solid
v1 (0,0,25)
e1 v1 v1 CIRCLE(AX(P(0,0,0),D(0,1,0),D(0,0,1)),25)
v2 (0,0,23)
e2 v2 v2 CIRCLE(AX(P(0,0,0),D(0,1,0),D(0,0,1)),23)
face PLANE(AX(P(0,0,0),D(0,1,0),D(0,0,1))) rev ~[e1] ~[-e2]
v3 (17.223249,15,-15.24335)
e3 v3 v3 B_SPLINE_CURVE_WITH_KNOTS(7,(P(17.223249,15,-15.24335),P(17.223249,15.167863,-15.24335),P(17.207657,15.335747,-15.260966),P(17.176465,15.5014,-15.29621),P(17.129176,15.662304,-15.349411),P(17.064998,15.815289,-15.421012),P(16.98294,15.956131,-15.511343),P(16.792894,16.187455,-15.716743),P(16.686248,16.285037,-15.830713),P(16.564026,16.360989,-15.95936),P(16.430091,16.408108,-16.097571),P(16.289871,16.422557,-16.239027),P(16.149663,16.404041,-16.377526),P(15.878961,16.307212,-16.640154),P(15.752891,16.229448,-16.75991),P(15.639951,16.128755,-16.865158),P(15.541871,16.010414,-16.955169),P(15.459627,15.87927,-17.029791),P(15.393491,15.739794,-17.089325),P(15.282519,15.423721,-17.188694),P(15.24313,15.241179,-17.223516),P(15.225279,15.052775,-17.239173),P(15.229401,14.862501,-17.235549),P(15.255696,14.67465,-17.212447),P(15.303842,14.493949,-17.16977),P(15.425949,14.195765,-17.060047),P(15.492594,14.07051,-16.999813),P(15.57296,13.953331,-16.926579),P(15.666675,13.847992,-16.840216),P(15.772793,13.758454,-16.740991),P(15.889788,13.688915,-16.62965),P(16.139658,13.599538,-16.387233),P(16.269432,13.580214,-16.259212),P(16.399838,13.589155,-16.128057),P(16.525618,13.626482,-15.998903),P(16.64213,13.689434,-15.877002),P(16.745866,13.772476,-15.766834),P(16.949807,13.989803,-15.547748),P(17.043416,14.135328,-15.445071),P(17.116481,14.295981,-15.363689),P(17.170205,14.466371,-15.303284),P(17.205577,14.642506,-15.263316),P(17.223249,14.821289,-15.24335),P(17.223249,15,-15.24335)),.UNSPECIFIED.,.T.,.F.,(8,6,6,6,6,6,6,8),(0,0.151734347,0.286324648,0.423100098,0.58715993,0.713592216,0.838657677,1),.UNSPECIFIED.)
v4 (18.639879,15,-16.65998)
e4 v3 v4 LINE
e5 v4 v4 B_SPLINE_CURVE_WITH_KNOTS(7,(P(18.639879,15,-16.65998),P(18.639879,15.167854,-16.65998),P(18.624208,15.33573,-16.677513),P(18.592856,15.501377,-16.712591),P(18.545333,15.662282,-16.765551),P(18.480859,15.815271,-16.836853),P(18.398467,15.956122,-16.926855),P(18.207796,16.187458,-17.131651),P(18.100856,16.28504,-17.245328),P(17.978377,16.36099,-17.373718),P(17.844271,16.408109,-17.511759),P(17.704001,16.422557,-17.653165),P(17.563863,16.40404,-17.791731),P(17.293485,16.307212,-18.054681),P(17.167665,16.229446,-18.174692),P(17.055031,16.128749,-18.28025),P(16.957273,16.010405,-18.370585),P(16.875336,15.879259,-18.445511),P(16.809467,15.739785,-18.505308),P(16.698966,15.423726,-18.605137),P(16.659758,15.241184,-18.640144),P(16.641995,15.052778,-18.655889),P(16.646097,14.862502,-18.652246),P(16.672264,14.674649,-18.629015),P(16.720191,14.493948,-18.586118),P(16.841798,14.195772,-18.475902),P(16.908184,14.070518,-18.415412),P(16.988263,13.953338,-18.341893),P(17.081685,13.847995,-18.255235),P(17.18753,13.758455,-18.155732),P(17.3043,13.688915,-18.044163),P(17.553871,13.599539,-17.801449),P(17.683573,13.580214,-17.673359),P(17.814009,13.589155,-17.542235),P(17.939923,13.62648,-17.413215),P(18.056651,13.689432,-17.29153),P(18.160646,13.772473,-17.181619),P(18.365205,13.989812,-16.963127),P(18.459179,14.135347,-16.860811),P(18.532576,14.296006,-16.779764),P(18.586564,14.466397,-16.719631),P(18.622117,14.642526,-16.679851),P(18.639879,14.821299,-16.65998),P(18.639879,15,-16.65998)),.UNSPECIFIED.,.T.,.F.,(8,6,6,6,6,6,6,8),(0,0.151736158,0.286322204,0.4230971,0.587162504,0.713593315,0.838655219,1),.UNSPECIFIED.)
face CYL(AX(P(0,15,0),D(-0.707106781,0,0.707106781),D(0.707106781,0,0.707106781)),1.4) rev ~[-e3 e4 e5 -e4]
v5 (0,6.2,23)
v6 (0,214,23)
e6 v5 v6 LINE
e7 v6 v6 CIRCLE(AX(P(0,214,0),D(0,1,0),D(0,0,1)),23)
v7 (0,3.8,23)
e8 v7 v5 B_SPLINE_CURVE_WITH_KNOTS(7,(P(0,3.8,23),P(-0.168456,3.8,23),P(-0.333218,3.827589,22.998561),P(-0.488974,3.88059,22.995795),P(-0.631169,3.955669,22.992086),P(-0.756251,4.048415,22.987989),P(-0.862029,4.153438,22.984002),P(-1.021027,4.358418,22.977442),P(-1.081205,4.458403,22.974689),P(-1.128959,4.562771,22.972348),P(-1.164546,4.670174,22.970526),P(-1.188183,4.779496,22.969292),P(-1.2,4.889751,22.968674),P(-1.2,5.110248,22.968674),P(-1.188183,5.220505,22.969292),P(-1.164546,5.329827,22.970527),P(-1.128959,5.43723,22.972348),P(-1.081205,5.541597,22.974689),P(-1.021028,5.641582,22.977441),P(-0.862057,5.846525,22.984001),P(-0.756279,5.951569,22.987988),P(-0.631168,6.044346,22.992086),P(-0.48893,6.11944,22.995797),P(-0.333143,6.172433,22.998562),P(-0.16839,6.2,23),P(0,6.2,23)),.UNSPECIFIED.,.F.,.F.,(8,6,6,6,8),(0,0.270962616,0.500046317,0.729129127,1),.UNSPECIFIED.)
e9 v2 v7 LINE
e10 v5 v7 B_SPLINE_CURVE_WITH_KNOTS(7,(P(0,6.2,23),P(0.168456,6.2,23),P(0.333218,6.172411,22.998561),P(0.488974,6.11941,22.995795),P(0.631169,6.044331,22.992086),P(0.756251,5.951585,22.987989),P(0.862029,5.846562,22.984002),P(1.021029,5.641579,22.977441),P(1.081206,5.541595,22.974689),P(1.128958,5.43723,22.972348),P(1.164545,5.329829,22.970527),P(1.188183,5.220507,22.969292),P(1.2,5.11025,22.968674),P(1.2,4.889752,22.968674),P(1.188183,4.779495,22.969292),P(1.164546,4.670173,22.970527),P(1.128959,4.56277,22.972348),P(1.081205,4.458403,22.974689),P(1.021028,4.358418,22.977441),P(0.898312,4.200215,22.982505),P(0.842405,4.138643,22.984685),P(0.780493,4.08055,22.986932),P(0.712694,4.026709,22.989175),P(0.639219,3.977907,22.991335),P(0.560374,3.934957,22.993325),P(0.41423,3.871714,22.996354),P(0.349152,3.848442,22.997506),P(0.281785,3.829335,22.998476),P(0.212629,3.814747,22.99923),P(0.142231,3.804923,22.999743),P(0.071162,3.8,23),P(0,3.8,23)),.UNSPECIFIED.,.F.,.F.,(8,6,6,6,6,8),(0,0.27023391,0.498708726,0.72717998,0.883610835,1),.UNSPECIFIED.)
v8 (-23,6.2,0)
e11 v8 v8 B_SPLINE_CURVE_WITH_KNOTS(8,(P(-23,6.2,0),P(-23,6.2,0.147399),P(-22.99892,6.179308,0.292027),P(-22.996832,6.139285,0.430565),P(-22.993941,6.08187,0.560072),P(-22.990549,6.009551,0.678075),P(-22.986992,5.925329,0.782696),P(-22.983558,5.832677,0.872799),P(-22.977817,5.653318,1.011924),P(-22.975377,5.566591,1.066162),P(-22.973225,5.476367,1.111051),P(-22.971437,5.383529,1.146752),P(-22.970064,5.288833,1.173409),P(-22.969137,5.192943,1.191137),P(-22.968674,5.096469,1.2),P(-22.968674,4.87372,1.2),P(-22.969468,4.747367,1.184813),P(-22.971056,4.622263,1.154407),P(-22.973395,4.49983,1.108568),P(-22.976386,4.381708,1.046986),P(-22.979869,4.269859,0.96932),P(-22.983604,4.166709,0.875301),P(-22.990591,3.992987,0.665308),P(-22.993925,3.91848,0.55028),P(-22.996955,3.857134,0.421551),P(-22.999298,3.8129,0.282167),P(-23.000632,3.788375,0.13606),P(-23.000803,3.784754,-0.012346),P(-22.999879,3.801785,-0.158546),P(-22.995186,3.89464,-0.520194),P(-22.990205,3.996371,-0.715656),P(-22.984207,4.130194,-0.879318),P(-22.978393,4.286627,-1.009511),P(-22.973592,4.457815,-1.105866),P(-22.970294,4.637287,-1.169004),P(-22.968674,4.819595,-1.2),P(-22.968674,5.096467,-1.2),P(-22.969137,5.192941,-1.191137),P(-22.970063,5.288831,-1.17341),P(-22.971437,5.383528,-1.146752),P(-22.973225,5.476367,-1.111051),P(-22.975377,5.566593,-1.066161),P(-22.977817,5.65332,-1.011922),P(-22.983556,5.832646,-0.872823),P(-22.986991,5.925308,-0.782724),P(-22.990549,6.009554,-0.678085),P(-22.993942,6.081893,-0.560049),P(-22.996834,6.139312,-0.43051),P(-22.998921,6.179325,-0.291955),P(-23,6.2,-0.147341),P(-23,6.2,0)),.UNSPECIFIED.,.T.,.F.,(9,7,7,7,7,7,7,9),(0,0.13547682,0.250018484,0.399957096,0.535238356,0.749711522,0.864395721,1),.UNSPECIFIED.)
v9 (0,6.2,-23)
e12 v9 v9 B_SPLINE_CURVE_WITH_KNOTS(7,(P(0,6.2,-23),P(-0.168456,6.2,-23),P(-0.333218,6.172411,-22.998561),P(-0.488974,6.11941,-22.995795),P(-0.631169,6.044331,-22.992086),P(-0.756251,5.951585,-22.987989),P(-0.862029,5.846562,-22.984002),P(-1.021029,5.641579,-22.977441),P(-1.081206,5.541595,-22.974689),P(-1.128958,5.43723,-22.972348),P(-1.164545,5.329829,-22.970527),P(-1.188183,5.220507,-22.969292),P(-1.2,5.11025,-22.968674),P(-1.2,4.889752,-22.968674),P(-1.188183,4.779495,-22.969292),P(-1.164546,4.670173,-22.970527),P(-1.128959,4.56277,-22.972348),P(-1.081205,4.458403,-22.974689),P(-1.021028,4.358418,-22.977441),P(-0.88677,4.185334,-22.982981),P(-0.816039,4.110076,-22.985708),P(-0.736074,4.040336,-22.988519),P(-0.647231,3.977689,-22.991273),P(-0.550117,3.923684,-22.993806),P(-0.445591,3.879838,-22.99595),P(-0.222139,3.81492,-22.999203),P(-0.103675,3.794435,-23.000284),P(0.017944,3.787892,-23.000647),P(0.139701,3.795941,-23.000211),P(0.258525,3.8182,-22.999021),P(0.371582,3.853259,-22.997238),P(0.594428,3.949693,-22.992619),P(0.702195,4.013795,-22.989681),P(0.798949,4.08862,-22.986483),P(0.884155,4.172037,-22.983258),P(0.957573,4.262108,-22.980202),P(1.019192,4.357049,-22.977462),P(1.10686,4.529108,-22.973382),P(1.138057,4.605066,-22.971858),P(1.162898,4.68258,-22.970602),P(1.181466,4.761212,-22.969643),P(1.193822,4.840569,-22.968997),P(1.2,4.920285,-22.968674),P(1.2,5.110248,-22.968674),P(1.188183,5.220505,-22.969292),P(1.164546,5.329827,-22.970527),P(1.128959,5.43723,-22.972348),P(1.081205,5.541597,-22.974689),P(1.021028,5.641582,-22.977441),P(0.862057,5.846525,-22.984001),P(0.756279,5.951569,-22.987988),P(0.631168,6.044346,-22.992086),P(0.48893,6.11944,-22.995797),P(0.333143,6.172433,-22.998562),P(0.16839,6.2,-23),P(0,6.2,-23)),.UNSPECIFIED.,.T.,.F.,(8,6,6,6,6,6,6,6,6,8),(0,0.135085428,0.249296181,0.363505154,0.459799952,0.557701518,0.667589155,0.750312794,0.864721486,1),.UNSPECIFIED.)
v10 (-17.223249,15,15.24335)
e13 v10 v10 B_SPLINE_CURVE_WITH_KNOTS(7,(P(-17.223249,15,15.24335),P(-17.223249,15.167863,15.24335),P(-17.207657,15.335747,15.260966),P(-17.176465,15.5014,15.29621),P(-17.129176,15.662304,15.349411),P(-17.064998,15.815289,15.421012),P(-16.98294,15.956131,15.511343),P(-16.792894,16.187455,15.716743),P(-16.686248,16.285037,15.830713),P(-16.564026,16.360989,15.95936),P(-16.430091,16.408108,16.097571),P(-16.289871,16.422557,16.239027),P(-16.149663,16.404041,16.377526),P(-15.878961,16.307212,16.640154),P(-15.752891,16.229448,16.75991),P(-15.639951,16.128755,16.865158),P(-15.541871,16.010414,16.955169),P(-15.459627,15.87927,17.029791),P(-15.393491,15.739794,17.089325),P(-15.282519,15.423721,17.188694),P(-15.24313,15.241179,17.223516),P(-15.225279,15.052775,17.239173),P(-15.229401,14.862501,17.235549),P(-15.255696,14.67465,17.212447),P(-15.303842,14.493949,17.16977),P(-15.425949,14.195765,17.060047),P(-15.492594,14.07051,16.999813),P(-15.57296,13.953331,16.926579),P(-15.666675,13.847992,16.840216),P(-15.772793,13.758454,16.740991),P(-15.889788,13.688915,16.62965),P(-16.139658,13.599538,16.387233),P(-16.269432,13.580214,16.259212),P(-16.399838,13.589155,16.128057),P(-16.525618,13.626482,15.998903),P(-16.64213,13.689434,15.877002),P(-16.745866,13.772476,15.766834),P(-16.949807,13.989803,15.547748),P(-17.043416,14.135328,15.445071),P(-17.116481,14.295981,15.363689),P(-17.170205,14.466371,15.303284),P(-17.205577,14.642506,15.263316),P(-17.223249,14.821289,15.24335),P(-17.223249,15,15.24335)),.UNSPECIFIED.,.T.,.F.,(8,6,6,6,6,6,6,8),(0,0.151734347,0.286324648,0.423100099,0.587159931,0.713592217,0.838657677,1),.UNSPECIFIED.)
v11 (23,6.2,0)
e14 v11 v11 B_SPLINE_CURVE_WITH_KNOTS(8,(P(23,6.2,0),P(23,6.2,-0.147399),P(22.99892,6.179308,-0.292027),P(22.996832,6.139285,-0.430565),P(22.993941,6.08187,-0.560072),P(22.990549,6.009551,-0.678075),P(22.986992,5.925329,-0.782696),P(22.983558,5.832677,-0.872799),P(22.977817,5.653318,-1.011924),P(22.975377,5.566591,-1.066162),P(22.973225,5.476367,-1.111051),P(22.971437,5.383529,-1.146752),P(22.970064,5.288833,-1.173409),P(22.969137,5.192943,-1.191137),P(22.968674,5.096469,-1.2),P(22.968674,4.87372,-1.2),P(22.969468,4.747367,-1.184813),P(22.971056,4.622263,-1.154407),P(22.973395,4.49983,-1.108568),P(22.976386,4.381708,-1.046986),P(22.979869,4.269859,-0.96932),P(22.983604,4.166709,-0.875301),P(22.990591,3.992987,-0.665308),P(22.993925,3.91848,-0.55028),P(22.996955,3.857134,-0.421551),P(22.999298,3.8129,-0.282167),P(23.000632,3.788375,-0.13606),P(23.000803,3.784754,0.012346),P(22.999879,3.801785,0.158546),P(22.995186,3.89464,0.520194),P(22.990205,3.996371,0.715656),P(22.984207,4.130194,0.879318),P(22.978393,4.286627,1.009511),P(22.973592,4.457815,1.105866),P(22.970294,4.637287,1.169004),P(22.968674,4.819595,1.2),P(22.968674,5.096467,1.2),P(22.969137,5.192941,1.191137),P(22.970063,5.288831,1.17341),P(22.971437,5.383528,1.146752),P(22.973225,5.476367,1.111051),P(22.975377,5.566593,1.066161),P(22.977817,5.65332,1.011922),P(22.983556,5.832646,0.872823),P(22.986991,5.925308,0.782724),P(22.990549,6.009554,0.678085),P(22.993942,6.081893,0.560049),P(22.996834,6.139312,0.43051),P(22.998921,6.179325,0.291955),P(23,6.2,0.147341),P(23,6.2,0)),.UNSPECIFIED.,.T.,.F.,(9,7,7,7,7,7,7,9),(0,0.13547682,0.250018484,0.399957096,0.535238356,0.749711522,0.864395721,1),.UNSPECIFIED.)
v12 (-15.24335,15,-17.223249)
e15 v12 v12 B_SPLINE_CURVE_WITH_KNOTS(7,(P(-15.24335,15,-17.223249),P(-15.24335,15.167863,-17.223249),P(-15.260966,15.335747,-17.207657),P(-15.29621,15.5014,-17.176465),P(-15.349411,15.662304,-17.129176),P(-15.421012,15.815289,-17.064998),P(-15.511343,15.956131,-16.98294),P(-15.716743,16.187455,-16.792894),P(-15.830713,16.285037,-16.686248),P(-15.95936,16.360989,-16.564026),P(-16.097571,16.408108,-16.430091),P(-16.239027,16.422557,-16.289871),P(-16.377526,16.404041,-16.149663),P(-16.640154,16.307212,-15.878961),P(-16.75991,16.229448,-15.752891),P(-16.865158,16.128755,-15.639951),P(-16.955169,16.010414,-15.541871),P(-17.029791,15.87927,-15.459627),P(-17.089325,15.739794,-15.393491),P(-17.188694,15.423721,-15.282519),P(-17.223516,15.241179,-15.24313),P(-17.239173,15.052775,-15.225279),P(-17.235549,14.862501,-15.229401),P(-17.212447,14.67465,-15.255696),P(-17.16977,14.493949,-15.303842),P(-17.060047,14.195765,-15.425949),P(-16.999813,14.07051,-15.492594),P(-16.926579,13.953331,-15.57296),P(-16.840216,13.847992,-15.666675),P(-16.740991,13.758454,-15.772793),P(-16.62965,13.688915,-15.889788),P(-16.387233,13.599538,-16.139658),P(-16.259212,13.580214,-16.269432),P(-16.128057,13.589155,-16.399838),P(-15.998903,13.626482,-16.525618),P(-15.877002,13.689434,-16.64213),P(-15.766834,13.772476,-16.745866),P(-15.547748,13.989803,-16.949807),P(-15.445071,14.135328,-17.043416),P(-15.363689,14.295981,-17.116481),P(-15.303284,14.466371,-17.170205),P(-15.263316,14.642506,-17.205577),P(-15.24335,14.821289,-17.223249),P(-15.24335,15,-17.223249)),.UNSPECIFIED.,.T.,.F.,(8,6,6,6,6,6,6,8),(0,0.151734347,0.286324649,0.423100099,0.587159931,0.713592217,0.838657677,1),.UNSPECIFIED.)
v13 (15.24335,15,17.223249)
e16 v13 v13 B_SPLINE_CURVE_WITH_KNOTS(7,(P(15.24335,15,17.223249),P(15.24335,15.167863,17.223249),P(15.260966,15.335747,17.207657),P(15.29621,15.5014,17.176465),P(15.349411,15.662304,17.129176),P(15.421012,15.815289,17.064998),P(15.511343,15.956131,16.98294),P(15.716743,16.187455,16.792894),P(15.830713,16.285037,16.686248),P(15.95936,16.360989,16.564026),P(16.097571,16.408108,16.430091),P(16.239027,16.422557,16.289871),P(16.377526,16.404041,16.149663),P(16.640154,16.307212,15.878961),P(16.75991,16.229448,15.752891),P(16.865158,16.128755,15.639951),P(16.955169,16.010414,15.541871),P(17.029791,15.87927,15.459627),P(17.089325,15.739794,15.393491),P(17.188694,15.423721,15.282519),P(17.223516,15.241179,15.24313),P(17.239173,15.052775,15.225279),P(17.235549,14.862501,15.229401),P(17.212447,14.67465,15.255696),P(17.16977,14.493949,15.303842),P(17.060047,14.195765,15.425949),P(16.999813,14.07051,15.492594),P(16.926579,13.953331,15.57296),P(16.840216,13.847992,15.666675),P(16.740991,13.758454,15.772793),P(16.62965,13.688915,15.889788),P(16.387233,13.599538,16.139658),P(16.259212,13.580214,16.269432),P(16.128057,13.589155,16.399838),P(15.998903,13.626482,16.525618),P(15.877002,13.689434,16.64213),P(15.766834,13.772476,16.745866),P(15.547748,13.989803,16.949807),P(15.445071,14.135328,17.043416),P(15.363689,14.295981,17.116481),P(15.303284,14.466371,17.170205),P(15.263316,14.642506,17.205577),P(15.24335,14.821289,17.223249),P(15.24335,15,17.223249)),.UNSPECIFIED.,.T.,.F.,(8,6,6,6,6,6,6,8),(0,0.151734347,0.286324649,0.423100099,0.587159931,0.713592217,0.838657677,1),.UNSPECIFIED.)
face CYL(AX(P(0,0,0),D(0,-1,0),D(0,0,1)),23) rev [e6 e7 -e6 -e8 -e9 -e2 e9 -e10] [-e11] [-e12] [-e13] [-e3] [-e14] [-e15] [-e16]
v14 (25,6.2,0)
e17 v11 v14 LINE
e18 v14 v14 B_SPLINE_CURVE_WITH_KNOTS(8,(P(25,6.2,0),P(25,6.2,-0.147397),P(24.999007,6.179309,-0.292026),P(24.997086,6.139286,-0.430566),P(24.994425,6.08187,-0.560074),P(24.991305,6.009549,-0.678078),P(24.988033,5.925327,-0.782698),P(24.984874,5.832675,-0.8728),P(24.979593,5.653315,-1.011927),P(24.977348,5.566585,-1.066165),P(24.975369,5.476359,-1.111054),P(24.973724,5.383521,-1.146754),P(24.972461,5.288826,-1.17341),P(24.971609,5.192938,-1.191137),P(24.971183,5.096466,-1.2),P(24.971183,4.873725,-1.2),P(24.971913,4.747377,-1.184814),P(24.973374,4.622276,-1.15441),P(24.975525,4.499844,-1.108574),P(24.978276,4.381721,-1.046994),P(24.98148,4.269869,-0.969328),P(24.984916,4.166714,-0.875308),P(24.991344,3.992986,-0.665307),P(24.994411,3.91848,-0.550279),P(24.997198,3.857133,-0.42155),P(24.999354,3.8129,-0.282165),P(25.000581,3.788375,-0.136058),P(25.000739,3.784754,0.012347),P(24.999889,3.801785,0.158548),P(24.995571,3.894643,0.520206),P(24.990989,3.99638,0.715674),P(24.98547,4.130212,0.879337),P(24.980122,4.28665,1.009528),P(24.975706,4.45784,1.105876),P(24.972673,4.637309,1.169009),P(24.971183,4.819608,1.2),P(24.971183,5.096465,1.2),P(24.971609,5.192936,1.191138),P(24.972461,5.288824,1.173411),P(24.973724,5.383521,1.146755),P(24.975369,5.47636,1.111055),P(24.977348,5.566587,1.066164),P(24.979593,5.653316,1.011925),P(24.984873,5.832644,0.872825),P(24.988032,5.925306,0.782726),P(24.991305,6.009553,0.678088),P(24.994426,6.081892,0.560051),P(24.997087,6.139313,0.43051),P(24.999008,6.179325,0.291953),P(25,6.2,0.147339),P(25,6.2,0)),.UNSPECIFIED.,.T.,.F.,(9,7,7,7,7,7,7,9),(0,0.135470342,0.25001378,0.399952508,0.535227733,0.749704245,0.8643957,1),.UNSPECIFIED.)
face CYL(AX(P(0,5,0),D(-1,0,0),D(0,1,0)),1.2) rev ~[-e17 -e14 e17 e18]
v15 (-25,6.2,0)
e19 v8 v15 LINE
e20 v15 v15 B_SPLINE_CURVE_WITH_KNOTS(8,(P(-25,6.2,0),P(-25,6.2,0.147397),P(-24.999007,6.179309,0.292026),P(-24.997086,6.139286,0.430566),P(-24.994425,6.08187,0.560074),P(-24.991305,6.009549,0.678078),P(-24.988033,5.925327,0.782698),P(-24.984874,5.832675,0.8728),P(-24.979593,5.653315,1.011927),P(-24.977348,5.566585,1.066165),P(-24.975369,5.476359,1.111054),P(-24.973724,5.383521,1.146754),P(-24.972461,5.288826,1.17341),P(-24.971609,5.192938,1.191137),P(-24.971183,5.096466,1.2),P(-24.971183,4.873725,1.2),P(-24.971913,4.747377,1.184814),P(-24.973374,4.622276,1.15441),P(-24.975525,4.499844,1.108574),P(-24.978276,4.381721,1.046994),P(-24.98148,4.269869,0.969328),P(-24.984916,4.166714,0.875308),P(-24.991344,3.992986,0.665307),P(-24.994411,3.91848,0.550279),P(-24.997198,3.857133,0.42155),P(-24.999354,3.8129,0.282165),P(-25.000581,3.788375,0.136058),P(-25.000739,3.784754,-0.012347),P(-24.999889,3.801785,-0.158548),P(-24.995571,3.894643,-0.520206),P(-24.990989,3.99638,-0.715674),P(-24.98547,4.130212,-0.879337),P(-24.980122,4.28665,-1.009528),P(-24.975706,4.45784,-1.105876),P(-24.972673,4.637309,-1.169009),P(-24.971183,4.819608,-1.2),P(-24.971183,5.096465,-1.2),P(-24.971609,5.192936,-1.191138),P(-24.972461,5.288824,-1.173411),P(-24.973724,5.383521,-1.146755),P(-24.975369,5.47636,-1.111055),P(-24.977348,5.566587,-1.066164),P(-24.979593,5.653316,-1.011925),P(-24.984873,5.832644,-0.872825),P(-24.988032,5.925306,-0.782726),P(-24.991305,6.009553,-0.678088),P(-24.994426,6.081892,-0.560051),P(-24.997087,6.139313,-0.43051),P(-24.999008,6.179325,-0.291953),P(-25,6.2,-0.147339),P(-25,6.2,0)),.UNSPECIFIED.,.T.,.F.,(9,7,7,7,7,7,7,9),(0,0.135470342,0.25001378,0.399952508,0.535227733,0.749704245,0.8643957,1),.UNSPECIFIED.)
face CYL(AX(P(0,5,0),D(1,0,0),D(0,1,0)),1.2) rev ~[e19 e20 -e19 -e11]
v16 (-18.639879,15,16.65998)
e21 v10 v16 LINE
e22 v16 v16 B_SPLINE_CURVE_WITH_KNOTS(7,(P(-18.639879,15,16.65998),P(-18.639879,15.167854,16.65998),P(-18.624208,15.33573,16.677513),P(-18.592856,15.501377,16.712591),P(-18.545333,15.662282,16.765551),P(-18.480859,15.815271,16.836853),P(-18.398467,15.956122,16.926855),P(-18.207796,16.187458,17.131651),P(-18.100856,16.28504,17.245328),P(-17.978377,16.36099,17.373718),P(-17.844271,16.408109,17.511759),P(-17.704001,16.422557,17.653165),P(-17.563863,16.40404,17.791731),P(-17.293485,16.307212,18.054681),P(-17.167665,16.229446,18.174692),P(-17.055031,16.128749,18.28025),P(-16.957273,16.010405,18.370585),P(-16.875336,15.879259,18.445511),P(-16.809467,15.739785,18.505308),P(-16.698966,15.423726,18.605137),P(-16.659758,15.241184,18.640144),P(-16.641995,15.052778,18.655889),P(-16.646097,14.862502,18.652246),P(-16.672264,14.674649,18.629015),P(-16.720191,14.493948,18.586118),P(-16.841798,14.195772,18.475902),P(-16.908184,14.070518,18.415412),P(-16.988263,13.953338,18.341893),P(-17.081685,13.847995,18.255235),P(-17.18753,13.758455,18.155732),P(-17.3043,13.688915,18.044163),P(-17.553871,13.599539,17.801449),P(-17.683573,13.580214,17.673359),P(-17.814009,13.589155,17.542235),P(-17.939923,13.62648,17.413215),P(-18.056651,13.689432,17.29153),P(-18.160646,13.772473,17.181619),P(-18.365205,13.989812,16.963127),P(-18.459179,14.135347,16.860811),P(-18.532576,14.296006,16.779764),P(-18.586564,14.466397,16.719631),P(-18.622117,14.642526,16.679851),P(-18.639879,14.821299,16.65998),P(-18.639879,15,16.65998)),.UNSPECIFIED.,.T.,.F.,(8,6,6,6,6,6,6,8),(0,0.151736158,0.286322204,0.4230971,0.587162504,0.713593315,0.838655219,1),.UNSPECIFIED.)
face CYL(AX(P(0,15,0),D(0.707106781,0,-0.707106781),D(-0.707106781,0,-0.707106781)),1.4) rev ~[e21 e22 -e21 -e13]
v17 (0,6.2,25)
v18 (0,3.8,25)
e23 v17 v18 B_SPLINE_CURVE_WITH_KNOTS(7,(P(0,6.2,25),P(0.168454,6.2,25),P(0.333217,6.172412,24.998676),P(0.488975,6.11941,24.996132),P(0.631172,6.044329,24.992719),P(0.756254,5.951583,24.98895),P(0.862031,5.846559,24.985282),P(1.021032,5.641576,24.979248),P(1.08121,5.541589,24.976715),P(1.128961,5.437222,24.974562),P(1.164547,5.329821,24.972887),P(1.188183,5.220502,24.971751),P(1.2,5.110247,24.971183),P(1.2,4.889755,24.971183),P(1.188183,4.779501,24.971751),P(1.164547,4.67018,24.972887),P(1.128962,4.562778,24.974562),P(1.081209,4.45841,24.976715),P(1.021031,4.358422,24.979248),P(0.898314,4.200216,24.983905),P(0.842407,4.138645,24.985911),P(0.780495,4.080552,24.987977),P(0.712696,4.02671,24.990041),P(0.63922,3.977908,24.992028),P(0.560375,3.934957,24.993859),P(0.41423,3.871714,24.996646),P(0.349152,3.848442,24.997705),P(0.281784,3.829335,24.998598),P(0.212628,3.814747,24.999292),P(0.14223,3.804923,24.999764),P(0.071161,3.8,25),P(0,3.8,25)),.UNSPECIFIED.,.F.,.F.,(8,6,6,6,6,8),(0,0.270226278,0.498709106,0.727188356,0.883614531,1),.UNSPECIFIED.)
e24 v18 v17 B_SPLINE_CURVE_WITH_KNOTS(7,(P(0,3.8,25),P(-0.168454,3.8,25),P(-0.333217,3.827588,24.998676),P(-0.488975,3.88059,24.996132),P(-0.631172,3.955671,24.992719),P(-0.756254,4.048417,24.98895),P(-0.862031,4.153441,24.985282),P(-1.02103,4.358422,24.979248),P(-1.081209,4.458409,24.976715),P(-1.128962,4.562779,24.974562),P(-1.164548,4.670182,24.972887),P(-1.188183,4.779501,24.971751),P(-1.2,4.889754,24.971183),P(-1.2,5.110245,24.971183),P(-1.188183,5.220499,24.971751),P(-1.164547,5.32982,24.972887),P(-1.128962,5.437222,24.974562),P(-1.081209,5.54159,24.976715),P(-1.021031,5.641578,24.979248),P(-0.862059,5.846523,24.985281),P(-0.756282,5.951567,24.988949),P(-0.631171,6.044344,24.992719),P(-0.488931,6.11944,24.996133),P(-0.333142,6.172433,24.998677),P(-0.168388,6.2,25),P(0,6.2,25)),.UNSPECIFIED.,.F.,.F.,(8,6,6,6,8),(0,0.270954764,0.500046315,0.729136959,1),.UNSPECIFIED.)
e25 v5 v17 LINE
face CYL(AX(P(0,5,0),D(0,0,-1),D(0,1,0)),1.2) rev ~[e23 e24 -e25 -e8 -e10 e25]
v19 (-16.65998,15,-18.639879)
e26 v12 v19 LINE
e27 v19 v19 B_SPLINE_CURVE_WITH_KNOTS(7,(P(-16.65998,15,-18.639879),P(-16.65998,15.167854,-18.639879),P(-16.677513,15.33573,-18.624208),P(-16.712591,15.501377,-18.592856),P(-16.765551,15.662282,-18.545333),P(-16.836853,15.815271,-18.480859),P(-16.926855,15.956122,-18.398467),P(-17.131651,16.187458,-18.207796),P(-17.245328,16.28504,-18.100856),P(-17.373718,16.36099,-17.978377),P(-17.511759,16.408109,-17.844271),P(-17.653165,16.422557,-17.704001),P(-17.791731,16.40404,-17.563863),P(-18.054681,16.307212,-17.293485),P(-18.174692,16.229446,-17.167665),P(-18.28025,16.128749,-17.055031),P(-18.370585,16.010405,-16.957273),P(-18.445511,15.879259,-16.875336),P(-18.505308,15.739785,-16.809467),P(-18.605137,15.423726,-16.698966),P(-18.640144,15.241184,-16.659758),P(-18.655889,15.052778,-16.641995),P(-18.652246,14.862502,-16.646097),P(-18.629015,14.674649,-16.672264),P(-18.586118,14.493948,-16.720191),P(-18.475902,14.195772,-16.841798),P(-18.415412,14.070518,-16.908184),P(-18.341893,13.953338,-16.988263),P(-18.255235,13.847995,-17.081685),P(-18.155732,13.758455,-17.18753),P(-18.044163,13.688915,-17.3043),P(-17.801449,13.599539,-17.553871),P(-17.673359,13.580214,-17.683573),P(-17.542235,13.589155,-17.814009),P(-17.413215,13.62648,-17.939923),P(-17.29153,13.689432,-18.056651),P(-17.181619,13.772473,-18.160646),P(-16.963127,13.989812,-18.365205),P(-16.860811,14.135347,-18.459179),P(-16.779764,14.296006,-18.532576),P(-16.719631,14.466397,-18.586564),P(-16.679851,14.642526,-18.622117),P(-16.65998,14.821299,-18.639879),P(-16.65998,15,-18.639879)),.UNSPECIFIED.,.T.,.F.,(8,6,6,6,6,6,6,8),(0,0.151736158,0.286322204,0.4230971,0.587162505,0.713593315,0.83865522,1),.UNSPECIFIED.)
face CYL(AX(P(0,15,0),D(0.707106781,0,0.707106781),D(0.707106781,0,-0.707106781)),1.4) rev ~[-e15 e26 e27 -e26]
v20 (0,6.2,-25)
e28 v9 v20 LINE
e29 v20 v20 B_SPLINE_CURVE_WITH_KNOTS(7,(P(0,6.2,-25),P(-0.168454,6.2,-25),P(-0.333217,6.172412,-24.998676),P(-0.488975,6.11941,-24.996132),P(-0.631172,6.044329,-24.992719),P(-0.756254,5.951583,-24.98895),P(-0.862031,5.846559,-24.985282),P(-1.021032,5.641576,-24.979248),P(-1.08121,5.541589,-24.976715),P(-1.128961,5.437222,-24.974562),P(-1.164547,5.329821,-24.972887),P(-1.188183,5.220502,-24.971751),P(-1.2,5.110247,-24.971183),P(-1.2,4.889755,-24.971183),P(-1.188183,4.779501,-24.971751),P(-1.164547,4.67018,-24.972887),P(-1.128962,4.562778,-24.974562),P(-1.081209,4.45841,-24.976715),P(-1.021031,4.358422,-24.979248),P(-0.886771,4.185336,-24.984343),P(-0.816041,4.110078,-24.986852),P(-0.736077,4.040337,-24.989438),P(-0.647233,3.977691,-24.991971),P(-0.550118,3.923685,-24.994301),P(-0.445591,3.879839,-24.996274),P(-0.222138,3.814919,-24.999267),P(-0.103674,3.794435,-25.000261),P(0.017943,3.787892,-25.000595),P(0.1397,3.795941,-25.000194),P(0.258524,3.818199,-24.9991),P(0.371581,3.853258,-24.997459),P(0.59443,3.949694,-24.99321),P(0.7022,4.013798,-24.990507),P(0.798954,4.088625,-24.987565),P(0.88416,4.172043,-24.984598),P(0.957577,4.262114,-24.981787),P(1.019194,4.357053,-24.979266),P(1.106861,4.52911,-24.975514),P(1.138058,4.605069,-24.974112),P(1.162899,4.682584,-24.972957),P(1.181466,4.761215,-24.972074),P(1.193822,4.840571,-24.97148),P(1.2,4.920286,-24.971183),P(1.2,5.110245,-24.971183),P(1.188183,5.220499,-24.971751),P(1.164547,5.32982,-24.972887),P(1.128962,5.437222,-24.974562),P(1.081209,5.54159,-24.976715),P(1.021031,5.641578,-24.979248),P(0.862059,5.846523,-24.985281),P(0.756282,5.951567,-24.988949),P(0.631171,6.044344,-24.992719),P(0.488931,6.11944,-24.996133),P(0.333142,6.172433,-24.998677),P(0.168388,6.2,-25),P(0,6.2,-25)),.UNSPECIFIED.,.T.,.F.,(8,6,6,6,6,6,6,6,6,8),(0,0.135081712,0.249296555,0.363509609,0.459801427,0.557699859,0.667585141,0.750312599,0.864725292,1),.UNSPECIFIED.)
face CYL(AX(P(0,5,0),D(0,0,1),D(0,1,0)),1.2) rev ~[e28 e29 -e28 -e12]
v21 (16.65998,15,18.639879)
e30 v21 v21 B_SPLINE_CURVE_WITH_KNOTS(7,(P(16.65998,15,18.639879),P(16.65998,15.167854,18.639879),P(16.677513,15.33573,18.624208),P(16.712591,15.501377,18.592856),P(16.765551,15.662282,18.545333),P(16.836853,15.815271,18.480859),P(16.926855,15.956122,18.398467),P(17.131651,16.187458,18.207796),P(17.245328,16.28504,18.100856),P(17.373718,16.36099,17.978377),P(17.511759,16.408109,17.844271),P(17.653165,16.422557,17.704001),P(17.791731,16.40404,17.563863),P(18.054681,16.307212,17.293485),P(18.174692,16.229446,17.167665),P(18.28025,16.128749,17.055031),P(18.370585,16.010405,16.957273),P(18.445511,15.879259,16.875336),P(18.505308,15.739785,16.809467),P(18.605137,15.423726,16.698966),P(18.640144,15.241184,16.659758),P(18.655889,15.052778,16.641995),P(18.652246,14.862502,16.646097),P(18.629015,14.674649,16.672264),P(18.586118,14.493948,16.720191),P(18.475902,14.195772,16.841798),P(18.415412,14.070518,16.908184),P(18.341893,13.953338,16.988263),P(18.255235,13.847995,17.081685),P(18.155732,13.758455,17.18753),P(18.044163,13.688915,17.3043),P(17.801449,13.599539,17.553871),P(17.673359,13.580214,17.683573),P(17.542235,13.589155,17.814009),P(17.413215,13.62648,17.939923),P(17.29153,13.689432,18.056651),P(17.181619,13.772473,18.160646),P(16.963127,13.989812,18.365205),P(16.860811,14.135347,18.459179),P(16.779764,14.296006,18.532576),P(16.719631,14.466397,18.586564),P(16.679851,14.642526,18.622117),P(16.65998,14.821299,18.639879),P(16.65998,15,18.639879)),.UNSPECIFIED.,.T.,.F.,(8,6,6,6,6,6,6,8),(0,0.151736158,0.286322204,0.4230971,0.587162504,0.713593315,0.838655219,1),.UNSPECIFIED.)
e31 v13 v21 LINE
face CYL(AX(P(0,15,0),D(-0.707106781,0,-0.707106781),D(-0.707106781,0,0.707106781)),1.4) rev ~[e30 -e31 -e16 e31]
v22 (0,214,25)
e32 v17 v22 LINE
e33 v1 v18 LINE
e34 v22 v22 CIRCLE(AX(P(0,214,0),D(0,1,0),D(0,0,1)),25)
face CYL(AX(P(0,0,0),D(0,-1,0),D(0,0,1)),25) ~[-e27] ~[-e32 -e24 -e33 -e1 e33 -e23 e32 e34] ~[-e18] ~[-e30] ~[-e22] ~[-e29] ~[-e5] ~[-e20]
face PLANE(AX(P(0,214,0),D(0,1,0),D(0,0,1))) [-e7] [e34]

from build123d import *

# Parameters (mm, degrees)
SKETCH_1_R               = 25
SKETCH_1_R_2             = 23
EXTRUDE_1_DEPTH          = 214
SKETCH_5_R               = 1.2
CUT_EXTRUDE_5_DEPTH      = 217.90089903
PATTERN_CIRCULAR_1_COUNT = 4
SKETCH_6_R               = 1.4
CUT_EXTRUDE_6_DEPTH      = 217.900899153
PATTERN_CIRCULAR_2_COUNT = 4


with BuildPart() as part:
    # Эскиз1 → Бобышка-Вытянуть1 (new body)
    with BuildSketch(Plane(origin=(0, 0, 0), x_dir=(1, 0, 0), z_dir=(0, 1, 0))):
        with Locations(Location((0, 0, 0), (0, 0, 270))):
            Circle(SKETCH_1_R)
        with Locations(Location((0, 0, 0), (0, 0, 270))):
            Circle(SKETCH_1_R_2, mode=Mode.SUBTRACT)
    extrude(amount=EXTRUDE_1_DEPTH)

    # Эскиз5 → Вырез-Вытянуть5 (cut, through all)
    with BuildSketch(Plane.XY):
        with Locations(Location((0, 5, 0), (0, 0, 90))):
            Circle(SKETCH_5_R)
    cut_extrude_5 = extrude(amount=-CUT_EXTRUDE_5_DEPTH, mode=Mode.SUBTRACT)

    # Круговой массив1: Вырез-Вытянуть5 ×4 about axis
    pattern_circular_1_axis = Axis((0, 214, 0), (0, -1, 0))
    for i in range(1, PATTERN_CIRCULAR_1_COUNT):
        add(cut_extrude_5.rotate(pattern_circular_1_axis, i * 360 / PATTERN_CIRCULAR_1_COUNT), mode=Mode.SUBTRACT)

    # Эскиз6 → Вырез-Вытянуть6 (cut, through all)
    with BuildSketch(Plane(origin=(0, 0, 0), x_dir=(0, -1, 0), z_dir=(-0.7071067811865488, 0, 0.7071067811865464))):
        with Locations(Location((-15, 0, 0), (0, 0, 90))):
            Circle(SKETCH_6_R)
    cut_extrude_6 = extrude(amount=-CUT_EXTRUDE_6_DEPTH, mode=Mode.SUBTRACT)

    # Круговой массив2: Вырез-Вытянуть6 ×4 about axis
    pattern_circular_2_axis = Axis((0, 214, 0), (0, -1, 0))
    for i in range(1, PATTERN_CIRCULAR_2_COUNT):
        add(cut_extrude_6.rotate(pattern_circular_2_axis, i * 360 / PATTERN_CIRCULAR_2_COUNT), mode=Mode.SUBTRACT)


solid = part.part
